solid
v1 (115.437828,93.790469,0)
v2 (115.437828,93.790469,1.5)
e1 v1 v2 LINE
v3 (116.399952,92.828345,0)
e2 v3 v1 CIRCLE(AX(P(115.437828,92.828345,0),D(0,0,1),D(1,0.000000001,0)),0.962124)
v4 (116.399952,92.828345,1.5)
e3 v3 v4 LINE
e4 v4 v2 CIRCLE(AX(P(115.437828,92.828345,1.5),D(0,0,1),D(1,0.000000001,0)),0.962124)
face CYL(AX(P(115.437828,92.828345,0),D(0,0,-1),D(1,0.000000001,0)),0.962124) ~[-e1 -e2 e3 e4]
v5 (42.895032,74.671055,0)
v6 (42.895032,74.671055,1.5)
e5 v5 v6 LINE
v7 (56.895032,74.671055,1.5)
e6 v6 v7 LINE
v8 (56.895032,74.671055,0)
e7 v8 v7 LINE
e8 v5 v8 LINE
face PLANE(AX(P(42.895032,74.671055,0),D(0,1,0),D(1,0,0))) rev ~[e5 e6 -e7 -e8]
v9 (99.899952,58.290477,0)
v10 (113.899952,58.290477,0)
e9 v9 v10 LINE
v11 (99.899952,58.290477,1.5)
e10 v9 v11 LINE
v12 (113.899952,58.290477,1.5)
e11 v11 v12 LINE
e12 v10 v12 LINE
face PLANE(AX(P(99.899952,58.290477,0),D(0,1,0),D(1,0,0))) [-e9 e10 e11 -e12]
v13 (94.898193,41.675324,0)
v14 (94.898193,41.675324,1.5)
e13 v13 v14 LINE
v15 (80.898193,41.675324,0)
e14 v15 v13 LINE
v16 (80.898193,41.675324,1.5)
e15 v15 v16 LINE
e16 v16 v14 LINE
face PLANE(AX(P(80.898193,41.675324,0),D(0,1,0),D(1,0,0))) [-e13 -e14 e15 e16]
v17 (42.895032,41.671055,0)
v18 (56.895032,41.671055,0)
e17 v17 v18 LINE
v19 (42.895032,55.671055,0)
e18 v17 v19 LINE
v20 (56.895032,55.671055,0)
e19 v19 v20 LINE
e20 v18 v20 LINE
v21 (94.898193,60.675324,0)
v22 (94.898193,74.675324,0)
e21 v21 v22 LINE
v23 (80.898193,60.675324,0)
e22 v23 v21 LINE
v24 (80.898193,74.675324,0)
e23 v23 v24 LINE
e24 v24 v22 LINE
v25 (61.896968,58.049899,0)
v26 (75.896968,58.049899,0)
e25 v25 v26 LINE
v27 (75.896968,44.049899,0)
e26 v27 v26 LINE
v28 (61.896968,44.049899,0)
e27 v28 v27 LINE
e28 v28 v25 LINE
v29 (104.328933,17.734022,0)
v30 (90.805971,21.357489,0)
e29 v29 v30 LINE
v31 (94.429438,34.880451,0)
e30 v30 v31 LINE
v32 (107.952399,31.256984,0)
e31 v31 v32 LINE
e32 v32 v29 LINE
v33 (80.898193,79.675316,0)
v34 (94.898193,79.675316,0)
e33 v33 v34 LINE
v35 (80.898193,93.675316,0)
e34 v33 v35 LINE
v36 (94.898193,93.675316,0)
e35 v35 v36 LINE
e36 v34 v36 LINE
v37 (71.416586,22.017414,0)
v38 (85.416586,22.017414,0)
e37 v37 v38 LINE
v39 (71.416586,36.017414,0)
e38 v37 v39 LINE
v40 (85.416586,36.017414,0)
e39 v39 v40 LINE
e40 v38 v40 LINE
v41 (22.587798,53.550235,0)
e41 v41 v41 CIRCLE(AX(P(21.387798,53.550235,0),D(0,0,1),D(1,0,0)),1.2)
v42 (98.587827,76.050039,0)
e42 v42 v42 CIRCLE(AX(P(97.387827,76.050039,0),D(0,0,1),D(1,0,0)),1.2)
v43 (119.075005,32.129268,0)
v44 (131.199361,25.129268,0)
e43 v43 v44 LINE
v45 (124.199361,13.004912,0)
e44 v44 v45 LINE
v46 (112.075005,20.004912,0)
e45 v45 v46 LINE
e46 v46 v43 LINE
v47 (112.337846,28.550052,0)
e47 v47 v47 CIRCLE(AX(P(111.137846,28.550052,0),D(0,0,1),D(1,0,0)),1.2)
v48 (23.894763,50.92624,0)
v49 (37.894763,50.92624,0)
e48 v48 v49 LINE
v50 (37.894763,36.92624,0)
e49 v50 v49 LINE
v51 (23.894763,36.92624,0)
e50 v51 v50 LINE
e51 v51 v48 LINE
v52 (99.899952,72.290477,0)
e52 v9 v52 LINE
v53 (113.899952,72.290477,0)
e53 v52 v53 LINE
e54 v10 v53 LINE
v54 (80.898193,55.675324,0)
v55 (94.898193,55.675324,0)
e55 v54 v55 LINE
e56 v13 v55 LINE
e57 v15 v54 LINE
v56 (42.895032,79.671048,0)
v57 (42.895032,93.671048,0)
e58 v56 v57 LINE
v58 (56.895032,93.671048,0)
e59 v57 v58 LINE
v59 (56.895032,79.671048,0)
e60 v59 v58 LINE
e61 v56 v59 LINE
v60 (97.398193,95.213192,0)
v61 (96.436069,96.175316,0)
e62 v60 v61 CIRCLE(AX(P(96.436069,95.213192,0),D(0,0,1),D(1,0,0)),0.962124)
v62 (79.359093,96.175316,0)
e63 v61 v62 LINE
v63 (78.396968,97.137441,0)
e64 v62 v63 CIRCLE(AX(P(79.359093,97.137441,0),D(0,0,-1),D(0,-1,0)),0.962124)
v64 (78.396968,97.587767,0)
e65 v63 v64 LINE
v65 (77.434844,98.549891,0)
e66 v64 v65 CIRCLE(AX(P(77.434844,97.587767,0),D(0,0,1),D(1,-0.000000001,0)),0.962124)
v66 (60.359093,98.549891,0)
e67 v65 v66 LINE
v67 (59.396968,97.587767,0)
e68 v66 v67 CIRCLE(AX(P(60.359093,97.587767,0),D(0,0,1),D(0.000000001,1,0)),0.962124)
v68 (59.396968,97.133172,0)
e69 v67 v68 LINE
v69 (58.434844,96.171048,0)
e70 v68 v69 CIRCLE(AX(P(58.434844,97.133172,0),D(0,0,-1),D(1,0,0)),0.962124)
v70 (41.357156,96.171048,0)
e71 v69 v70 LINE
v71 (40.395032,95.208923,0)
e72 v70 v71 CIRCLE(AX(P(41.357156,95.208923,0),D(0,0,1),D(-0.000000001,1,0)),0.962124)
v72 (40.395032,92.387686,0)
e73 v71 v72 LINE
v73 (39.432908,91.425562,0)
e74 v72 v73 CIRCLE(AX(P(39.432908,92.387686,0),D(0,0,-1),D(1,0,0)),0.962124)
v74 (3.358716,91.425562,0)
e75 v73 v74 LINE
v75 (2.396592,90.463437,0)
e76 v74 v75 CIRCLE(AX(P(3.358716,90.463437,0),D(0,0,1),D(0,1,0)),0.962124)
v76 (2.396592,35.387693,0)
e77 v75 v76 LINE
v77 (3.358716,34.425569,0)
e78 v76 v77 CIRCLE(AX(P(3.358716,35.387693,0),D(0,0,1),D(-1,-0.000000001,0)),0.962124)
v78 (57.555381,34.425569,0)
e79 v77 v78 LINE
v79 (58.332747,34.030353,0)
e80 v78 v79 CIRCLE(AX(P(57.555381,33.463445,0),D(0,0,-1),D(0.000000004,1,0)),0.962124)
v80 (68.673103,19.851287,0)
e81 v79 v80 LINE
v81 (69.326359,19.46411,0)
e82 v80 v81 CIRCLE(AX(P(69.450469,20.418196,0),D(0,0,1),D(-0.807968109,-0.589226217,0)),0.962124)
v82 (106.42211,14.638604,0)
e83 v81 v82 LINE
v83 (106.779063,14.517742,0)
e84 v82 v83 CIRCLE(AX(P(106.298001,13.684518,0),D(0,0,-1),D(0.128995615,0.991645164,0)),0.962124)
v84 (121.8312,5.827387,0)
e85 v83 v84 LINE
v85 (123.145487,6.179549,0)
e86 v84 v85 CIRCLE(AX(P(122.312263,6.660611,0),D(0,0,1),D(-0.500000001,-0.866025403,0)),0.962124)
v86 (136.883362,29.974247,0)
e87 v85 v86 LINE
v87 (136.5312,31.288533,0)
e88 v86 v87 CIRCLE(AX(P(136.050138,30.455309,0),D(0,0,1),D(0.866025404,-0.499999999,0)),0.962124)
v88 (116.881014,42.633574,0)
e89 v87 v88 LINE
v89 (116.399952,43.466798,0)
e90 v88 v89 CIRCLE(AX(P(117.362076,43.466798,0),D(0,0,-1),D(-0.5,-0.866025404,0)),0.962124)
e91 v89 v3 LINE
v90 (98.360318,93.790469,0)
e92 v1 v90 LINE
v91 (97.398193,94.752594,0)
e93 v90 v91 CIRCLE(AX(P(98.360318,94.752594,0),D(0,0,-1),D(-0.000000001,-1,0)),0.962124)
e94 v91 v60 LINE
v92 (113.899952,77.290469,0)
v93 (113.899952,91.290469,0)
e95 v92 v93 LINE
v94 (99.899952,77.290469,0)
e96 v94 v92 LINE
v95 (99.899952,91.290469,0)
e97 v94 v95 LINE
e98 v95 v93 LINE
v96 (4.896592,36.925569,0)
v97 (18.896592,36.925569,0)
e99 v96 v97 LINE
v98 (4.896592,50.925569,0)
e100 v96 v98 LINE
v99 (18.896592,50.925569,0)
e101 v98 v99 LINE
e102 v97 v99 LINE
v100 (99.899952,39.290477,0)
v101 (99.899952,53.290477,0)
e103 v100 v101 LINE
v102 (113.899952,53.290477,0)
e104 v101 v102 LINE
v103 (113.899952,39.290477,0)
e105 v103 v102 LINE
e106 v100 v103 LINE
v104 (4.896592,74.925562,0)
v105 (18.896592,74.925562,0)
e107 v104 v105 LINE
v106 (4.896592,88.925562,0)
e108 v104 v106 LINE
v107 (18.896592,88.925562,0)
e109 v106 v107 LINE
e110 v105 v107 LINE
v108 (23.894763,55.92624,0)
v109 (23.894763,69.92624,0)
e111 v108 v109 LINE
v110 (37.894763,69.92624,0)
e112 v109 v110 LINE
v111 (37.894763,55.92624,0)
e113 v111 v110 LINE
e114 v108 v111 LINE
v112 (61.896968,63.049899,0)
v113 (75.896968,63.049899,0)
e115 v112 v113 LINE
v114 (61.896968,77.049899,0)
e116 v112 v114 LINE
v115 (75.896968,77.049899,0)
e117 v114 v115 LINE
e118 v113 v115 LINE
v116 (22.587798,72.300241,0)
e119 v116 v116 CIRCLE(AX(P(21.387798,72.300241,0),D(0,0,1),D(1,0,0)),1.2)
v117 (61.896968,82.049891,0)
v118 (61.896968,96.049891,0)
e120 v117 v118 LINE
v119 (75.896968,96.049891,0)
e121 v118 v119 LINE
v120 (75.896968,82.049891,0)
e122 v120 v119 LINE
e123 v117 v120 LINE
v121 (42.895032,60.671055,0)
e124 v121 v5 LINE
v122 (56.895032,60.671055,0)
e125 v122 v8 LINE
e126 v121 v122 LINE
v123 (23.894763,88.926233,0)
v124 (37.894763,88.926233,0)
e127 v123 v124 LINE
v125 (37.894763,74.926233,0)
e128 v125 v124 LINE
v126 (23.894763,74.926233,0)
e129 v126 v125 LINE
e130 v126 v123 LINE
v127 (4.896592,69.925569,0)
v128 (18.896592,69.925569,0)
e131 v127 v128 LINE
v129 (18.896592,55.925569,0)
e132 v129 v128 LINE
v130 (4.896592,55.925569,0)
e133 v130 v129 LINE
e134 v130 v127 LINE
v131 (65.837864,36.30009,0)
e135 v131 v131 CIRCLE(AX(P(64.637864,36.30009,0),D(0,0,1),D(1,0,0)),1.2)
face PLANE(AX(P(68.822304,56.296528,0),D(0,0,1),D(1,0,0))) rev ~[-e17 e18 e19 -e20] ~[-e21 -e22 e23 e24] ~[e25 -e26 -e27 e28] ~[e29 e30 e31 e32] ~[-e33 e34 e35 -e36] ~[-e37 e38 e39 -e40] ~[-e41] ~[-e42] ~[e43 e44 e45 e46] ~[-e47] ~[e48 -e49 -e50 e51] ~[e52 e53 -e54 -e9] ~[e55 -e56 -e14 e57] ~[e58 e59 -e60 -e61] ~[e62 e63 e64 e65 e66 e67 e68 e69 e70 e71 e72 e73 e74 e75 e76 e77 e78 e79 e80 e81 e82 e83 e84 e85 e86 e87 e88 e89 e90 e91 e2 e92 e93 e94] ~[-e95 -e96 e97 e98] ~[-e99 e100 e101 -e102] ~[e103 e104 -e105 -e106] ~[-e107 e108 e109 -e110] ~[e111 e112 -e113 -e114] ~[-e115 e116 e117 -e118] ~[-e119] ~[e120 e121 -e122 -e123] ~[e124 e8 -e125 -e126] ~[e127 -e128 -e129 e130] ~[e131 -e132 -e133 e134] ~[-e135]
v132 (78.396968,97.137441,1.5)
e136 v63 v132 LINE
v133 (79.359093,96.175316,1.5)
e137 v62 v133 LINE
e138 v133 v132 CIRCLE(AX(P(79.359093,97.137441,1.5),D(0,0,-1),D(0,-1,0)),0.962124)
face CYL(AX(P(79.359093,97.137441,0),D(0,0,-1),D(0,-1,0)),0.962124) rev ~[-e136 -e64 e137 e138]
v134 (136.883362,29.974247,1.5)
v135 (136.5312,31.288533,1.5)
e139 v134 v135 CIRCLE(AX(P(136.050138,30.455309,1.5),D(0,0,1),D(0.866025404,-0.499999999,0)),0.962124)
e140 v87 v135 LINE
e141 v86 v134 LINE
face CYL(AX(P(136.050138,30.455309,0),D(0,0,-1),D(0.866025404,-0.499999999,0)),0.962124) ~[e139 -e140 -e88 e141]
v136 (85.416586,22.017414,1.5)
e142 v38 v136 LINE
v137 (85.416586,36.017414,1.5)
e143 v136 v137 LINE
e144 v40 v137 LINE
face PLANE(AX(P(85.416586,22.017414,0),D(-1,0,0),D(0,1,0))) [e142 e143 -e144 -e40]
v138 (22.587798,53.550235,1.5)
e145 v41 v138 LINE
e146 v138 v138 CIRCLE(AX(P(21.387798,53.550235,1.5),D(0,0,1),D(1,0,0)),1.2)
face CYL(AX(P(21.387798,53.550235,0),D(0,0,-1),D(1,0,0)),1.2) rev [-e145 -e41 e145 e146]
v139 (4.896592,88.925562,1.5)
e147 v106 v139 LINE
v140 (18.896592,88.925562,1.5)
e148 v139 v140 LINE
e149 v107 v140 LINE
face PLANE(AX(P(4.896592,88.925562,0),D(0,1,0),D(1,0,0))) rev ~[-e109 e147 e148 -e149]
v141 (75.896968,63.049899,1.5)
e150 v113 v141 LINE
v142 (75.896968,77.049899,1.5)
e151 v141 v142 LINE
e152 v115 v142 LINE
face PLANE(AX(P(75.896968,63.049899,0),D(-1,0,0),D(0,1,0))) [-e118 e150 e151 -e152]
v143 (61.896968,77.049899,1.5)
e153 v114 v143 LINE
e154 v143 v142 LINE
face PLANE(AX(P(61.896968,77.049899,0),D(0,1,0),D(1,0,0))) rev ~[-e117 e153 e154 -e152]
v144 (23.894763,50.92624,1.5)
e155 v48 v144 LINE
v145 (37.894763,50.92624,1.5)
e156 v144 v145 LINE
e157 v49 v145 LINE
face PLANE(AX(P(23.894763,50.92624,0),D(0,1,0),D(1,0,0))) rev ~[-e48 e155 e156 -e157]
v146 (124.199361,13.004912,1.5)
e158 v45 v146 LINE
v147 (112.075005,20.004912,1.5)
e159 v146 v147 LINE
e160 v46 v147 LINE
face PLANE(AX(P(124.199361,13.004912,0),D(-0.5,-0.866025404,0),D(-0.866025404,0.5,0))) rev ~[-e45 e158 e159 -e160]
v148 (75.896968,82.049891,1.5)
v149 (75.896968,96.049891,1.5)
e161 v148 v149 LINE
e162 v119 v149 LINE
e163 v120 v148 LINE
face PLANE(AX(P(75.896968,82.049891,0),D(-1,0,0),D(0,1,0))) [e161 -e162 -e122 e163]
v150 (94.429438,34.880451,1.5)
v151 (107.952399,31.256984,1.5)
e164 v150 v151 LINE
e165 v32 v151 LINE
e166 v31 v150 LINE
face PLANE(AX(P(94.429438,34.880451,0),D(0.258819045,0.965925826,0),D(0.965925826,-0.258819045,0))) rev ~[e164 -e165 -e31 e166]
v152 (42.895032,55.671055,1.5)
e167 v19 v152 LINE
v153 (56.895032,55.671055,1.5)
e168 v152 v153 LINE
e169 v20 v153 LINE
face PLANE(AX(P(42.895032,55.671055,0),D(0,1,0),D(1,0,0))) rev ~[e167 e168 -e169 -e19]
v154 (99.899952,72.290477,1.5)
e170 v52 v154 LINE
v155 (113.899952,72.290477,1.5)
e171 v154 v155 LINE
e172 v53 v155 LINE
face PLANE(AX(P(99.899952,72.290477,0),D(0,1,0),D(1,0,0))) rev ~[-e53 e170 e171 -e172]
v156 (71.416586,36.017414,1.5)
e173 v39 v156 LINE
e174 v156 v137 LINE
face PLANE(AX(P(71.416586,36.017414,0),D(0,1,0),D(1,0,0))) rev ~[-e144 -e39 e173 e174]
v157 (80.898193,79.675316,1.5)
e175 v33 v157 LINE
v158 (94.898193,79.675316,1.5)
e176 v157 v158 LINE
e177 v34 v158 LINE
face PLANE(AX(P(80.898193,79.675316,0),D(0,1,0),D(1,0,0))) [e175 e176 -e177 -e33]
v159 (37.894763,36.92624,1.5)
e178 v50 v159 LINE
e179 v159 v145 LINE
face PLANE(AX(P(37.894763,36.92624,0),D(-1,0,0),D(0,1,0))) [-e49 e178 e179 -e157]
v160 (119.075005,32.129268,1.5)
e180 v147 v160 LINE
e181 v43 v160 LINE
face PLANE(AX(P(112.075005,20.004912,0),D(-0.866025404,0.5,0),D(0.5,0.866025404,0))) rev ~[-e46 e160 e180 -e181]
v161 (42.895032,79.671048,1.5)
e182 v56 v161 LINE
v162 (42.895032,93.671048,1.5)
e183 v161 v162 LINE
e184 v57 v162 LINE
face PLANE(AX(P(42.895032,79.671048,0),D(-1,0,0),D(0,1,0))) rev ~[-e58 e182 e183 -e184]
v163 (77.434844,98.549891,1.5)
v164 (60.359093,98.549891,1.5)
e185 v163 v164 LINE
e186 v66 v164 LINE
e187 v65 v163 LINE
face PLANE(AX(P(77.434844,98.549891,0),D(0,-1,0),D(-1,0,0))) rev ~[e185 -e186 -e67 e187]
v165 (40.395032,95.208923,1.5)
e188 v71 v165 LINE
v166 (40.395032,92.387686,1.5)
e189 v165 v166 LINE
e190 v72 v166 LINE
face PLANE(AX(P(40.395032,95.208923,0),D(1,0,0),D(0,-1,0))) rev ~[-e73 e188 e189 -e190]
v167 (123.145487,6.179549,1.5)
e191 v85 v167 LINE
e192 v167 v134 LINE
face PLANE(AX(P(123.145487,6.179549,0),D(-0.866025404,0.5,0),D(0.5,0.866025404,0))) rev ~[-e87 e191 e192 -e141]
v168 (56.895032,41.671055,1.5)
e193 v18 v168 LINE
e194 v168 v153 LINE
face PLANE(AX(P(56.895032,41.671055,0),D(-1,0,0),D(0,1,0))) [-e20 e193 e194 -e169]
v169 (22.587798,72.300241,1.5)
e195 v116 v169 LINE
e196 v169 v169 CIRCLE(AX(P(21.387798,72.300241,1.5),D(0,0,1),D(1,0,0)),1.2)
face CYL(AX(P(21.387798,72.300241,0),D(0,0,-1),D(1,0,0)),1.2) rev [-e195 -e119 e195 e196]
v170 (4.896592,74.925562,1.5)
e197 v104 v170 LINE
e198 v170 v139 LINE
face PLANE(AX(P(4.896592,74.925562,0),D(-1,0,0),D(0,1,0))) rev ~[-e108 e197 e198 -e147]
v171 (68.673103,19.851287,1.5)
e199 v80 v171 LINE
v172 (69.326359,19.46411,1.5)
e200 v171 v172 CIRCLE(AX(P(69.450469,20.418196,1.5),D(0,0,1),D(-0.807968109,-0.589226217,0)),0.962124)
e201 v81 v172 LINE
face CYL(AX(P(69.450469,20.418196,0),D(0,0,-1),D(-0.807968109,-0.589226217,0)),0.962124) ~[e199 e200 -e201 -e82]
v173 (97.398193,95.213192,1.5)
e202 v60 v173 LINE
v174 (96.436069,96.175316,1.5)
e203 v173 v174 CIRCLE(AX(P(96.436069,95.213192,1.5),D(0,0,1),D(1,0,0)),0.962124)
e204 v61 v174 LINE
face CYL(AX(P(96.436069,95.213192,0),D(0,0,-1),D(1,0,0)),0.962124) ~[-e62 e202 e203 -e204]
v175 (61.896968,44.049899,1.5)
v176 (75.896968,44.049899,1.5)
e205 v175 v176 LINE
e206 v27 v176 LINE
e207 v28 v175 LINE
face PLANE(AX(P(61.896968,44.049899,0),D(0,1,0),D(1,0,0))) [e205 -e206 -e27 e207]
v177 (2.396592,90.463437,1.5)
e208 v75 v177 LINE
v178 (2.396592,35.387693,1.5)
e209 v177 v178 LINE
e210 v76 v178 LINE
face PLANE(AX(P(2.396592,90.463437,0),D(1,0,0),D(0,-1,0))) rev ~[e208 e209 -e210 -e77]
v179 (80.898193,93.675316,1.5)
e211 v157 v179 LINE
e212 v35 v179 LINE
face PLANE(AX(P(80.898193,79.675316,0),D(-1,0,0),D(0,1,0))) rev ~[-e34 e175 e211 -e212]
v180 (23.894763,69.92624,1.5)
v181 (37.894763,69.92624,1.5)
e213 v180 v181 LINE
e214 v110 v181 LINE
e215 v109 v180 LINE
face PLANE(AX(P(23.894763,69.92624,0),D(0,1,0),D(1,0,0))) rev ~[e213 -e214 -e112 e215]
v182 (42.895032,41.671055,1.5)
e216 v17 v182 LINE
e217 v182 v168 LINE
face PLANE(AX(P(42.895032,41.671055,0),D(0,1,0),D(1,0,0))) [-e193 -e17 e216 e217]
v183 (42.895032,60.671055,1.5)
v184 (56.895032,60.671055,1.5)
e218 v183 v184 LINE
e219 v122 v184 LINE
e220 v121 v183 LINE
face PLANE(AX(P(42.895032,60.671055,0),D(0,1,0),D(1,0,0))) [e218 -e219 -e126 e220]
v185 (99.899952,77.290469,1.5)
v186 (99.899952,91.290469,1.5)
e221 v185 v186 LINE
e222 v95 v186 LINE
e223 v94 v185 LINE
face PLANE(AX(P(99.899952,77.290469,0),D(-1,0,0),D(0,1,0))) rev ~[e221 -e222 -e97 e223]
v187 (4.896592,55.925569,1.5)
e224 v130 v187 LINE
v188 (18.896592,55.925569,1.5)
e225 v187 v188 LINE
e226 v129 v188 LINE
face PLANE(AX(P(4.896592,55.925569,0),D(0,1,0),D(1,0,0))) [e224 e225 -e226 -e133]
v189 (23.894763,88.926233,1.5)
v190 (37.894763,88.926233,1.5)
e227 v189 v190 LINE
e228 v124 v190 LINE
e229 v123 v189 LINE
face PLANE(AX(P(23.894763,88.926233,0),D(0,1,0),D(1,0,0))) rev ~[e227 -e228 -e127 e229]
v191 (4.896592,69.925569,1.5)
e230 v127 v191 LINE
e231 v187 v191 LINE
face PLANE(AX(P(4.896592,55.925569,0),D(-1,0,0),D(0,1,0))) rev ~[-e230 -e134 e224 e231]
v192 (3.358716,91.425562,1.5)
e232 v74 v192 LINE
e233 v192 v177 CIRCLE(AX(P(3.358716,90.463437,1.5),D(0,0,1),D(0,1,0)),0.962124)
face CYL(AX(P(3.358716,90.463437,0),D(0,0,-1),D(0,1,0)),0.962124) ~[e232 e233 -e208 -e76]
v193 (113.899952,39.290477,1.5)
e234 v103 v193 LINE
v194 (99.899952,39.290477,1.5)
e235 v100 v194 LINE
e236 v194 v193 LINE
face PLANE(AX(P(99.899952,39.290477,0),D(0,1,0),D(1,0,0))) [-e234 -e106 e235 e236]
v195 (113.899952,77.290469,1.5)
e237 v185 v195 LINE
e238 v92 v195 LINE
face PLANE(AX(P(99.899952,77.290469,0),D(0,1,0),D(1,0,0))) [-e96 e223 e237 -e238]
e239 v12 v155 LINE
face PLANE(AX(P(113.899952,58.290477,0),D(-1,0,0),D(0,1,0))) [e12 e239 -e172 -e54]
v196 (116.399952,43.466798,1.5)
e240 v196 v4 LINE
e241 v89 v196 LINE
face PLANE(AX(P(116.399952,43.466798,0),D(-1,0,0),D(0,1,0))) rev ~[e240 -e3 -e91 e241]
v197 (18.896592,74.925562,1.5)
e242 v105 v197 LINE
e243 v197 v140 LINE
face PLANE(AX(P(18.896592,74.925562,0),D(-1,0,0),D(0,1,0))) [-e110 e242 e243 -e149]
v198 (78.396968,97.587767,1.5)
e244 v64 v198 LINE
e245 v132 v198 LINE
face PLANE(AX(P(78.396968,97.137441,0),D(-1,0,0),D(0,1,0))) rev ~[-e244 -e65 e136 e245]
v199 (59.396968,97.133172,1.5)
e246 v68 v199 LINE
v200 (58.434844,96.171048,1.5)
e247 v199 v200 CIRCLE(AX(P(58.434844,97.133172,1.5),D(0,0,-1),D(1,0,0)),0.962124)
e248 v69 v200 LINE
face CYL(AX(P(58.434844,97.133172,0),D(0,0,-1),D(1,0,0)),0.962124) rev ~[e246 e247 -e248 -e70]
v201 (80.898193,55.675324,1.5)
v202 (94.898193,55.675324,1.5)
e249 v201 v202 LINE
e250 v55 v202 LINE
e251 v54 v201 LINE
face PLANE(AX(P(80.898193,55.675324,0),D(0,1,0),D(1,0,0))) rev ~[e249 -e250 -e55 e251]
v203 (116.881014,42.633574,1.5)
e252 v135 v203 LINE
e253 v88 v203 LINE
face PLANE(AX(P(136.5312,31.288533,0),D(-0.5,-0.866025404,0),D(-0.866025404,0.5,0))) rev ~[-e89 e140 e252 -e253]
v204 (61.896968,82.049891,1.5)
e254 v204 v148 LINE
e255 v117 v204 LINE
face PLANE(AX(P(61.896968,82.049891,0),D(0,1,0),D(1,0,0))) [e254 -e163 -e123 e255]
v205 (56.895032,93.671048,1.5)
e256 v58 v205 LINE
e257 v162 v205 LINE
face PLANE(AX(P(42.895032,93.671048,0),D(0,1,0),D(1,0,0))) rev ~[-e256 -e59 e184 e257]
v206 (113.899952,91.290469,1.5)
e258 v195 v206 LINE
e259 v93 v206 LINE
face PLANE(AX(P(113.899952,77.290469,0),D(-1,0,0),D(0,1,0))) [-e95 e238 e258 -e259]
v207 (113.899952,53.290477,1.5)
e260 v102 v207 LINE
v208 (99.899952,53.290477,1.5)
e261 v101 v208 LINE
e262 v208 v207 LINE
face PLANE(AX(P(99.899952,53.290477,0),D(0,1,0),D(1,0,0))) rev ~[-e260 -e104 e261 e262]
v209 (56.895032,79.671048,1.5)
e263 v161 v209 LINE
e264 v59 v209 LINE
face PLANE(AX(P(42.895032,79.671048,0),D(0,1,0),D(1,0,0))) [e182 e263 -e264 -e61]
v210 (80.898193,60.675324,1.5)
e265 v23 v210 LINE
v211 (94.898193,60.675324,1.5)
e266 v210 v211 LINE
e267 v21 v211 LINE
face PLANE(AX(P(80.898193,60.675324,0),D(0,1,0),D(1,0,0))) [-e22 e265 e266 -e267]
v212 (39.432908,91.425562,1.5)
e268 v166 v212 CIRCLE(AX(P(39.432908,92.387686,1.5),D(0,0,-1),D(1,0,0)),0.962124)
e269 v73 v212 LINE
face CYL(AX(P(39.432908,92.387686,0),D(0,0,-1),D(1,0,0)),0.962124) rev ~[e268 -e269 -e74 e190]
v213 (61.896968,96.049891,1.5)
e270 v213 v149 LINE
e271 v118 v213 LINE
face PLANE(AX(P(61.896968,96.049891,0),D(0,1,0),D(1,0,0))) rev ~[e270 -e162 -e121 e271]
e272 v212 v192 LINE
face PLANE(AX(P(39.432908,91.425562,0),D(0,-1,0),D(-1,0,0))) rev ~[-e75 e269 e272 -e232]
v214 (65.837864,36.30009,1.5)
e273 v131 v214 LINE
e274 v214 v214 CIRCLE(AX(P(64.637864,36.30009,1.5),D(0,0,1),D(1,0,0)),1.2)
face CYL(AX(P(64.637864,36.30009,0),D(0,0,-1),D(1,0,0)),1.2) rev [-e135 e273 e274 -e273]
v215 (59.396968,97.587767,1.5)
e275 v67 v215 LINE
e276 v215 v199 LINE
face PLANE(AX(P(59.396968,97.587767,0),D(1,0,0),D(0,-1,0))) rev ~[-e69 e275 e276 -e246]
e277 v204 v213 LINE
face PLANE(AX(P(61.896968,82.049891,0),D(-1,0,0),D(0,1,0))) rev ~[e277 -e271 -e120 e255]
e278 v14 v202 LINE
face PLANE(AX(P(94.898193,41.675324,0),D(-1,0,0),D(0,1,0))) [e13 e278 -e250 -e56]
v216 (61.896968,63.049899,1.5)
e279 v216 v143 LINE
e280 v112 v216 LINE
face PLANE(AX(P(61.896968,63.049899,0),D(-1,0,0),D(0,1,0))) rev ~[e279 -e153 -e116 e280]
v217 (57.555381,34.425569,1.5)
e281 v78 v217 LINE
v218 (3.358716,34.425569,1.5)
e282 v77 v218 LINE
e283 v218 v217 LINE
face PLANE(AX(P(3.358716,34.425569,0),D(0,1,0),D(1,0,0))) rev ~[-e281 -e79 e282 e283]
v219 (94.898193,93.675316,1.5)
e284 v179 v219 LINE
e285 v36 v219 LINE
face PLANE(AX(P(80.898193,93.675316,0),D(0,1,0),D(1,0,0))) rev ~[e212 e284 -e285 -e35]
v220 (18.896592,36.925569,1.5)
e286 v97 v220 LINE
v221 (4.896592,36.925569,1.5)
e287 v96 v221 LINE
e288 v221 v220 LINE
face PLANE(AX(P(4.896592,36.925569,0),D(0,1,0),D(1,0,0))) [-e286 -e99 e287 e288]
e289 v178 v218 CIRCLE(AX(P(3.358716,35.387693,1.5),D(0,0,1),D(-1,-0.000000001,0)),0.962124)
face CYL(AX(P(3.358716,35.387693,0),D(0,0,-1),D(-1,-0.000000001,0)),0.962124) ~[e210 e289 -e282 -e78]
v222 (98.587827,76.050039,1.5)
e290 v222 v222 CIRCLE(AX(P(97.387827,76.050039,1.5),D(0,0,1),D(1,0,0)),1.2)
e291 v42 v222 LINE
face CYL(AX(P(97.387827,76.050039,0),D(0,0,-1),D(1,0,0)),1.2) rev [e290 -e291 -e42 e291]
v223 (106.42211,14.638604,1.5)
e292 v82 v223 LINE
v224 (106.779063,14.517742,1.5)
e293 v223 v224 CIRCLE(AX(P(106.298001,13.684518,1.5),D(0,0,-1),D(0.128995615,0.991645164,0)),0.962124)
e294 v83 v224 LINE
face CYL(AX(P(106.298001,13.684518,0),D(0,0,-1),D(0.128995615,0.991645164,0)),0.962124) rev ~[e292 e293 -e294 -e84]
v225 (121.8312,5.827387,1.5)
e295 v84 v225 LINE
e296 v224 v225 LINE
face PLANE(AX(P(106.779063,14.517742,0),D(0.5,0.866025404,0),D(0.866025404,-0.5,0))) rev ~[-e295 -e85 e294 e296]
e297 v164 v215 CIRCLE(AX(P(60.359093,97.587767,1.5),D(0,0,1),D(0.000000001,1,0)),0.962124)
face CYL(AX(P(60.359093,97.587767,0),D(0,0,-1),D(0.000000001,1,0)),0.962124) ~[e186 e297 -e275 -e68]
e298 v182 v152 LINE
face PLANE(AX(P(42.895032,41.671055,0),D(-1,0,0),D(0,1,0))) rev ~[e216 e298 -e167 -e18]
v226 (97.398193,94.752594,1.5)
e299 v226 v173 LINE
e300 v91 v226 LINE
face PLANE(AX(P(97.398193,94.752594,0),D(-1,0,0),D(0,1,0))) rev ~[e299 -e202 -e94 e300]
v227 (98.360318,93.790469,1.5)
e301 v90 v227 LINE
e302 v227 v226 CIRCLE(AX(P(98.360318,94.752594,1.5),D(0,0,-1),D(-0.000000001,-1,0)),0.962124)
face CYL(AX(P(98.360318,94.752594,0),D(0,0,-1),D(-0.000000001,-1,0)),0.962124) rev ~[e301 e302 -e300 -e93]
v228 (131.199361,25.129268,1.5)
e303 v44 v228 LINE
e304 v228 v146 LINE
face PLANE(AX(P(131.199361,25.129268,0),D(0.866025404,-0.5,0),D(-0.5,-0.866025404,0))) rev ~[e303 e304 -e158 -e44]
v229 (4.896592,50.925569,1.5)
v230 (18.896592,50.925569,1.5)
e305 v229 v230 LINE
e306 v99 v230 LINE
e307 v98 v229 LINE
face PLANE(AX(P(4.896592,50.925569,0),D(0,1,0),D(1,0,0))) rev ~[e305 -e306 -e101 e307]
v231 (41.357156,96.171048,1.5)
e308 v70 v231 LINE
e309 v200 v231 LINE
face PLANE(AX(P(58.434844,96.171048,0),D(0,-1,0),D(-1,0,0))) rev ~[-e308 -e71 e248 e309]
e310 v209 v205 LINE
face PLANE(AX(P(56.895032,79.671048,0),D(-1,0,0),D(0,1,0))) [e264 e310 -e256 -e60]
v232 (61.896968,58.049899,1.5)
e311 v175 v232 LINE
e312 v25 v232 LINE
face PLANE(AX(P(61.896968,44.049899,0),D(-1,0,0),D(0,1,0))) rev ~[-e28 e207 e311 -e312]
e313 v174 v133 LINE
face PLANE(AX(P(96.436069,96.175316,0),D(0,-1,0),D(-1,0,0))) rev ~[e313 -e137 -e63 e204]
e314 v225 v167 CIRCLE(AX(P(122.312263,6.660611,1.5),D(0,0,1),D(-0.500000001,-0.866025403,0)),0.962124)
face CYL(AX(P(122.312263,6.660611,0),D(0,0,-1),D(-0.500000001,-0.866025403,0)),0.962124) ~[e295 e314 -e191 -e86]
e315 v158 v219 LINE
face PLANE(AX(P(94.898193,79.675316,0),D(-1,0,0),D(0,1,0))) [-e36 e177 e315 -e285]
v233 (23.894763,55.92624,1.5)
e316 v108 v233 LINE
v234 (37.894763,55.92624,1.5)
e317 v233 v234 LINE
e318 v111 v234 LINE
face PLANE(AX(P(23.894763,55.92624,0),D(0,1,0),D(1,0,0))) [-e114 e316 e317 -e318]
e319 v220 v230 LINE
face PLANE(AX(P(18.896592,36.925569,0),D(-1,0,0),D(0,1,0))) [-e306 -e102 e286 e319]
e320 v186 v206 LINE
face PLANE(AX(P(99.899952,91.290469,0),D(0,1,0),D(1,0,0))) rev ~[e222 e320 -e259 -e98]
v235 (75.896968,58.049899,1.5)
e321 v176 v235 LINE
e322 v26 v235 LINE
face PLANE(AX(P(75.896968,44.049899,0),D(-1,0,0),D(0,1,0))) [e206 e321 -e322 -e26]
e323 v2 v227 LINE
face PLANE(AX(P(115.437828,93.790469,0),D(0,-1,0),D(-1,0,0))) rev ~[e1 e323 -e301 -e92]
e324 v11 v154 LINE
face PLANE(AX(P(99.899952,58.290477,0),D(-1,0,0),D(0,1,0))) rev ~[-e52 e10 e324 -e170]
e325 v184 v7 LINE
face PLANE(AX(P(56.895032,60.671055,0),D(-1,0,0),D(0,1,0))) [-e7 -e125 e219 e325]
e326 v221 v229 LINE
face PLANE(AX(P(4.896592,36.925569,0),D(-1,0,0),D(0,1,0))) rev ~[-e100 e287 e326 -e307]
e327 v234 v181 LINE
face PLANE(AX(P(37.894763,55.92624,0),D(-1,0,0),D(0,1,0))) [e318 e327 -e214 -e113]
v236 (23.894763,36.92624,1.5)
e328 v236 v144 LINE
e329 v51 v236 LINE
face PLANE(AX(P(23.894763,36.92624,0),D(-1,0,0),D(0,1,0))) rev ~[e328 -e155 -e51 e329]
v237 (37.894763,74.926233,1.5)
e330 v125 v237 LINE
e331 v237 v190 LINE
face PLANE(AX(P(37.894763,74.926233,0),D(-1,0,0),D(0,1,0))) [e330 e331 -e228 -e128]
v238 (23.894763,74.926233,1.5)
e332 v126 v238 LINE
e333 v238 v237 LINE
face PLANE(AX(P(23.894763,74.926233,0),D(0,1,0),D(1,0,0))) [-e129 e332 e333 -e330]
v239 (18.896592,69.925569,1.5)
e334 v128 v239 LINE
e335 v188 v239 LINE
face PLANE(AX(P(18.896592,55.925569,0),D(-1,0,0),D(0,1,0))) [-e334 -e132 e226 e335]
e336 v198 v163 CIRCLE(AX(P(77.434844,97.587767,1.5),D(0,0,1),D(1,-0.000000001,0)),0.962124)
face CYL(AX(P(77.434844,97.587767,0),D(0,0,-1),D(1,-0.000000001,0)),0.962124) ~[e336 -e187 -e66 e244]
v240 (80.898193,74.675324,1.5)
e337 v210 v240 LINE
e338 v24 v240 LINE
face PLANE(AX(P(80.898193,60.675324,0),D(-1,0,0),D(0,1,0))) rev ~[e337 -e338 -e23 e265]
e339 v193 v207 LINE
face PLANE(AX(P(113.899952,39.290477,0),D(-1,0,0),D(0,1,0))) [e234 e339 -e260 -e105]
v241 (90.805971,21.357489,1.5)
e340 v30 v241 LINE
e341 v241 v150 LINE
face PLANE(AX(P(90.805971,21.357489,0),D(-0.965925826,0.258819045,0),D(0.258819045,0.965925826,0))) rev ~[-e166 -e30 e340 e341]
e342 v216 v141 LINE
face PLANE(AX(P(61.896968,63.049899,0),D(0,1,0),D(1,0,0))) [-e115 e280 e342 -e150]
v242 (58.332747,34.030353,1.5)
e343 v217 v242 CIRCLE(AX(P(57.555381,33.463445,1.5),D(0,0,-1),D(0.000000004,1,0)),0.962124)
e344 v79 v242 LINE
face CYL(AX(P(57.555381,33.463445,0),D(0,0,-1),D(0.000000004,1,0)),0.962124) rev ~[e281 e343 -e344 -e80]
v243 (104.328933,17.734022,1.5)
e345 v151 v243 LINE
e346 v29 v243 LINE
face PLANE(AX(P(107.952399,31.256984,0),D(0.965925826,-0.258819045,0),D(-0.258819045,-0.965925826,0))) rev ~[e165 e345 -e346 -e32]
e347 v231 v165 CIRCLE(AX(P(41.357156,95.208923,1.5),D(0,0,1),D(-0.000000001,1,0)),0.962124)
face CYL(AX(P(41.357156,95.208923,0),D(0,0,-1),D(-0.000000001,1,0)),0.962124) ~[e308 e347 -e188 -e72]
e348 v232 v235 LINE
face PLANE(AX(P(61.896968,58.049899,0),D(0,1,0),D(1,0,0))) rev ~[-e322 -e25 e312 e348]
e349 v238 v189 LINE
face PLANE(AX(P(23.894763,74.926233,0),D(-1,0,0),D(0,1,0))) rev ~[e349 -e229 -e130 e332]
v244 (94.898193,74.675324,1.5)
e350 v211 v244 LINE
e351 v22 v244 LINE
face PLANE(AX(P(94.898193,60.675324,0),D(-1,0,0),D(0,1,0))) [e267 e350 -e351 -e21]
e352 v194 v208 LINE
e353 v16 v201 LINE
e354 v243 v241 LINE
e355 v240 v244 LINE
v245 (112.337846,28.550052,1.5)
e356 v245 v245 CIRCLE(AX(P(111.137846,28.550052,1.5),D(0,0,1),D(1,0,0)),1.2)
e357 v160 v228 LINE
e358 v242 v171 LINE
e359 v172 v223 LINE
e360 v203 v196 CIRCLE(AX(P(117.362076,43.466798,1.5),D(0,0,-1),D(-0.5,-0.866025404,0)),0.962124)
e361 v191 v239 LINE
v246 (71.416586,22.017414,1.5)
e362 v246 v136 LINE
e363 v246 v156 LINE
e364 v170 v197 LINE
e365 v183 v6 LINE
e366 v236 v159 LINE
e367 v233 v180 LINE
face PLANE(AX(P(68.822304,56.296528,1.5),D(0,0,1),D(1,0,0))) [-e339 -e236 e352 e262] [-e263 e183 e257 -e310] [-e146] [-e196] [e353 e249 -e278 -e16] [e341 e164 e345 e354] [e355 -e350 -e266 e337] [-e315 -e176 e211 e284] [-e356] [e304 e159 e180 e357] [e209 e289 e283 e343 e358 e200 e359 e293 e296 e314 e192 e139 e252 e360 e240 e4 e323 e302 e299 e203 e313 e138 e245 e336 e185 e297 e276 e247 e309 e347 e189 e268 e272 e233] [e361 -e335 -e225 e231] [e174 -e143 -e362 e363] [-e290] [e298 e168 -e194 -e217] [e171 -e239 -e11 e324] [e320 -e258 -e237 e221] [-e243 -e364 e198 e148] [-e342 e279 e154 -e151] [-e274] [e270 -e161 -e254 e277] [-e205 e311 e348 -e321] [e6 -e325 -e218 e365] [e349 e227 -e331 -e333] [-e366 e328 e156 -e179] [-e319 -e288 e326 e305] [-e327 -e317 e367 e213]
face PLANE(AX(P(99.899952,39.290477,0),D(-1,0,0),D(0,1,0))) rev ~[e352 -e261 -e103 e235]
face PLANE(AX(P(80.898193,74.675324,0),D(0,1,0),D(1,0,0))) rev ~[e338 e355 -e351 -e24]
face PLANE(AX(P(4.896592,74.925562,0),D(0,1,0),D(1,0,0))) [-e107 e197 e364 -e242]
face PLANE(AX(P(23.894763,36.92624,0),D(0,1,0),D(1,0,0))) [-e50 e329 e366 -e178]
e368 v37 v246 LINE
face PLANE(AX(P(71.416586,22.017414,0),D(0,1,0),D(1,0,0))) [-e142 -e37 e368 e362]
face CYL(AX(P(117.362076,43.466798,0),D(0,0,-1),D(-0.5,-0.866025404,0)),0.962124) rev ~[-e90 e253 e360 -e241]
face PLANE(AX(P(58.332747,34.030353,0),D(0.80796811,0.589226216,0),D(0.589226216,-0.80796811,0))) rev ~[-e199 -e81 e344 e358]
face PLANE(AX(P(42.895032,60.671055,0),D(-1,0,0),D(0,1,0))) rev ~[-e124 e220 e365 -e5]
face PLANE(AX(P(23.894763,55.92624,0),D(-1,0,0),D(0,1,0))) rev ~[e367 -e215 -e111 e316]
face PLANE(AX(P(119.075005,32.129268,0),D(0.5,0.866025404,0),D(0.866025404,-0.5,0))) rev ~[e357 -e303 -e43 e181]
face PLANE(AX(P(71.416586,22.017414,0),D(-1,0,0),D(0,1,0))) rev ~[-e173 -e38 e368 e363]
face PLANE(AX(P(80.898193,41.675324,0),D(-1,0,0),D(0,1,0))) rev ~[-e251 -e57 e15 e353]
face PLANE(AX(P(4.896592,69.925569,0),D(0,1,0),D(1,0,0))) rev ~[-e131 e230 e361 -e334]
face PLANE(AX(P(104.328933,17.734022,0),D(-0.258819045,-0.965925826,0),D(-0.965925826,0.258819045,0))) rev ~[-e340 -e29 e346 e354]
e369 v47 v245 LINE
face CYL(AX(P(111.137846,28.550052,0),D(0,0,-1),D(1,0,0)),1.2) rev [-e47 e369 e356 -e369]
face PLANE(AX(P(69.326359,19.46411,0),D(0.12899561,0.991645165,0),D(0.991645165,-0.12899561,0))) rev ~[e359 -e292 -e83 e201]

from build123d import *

# Parameters (mm, degrees)
SKETCH2_W           = 13.999999997
SKETCH2_H           = 13.999999996
SKETCH2_W_2         = 13.999999996
SKETCH2_R           = 1.2
SKETCH2_H_2         = 13.999999997
BOSS_EXTRUDE1_DEPTH = 1.5


with BuildPart() as part:
    # Sketch2 → Boss-Extrude1 (new body)
    with BuildSketch(Plane.XY):
        with BuildLine():
            ThreePointArc((3.358715952, 91.42556159), (2.678391323, 91.143761902), (2.396591635, 90.463437274))
            Line((2.396591635, 90.463437274), (2.396591635, 35.387693174))
            ThreePointArc((2.396591635, 35.387693174), (2.678391323, 34.707368546), (3.358715952, 34.425568858))
            Line((3.358715952, 34.425568858), (57.55538108, 34.425568858))
            ThreePointArc((57.55538108, 34.425568858), (57.991412266, 34.32109249), (58.332746845, 34.030353412))
            Line((58.332746845, 34.030353412), (68.6731028, 19.851286658))
            ThreePointArc((68.6731028, 19.851286658), (68.959916761, 19.590522811), (69.326358752, 19.464109602))
            Line((69.326358752, 19.464109602), (106.42211034, 14.638604201))
            ThreePointArc((106.42211034, 14.638604201), (106.606561986, 14.595821202), (106.779062685, 14.517742374))
            Line((106.779062685, 14.517742374), (121.831200494, 5.827386558))
            ThreePointArc((121.831200494, 5.827386558), (122.561278749, 5.731269932), (123.145486752, 6.1795485))
            Line((123.145486752, 6.1795485), (136.883362434, 29.974247168))
            ThreePointArc((136.883362434, 29.974247168), (136.979479059, 30.704325424), (136.531200492, 31.288533426))
            Line((136.531200492, 31.288533426), (116.881014221, 42.63357376))
            ThreePointArc((116.881014221, 42.63357376), (116.52885228, 42.985735701), (116.399952063, 43.466797859))
            Line((116.399952063, 43.466797859), (116.399952063, 92.828345033))
            ThreePointArc((116.399952063, 92.828345033), (116.118152375, 93.508669661), (115.437827746, 93.790469349))
            Line((115.437827746, 93.790469349), (98.360317754, 93.790469349))
            ThreePointArc((98.360317754, 93.790469349), (97.679993126, 94.072269037), (97.398193438, 94.752593666))
            Line((97.398193438, 94.752593666), (97.398193438, 95.213192117))
            ThreePointArc((97.398193438, 95.213192117), (97.11639375, 95.893516746), (96.436069121, 96.175316434))
            Line((96.436069121, 96.175316434), (79.359092742, 96.175316434))
            ThreePointArc((79.359092742, 96.175316434), (78.678768113, 96.457116122), (78.396968425, 97.137440751))
            Line((78.396968425, 97.137440751), (78.396968425, 97.587767164))
            ThreePointArc((78.396968425, 97.587767164), (78.115168737, 98.268091793), (77.434844109, 98.54989148))
            Line((77.434844109, 98.54989148), (60.359092745, 98.54989148))
            ThreePointArc((60.359092745, 98.54989148), (59.678768117, 98.268091793), (59.396968429, 97.587767164))
            Line((59.396968429, 97.587767164), (59.396968429, 97.133171852))
            ThreePointArc((59.396968429, 97.133171852), (59.115168741, 96.452847223), (58.434844112, 96.171047535))
            Line((58.434844112, 96.171047535), (41.357156249, 96.171047535))
            ThreePointArc((41.357156249, 96.171047535), (40.676831621, 95.889247847), (40.395031933, 95.208923218))
            Line((40.395031933, 95.208923218), (40.395031933, 92.387685907))
            ThreePointArc((40.395031933, 92.387685907), (40.113232245, 91.707361278), (39.432907616, 91.42556159))
            Line((39.432907616, 91.42556159), (3.358715952, 91.42556159))
        make_face()
        with Locations((11.896591633, 43.925568856)):
            Rectangle(SKETCH2_W, SKETCH2_H, mode=Mode.SUBTRACT)
        with Locations((30.894762974, 43.926240308)):
            Rectangle(SKETCH2_W_2, SKETCH2_H, mode=Mode.SUBTRACT)
        with Locations((64.637863533, 36.300090173)):
            Circle(SKETCH2_R, mode=Mode.SUBTRACT)
        with Locations((49.895031931, 48.671054801)):
            Rectangle(SKETCH2_W_2, SKETCH2_H_2, mode=Mode.SUBTRACT)
        with Locations((68.896968427, 51.049898746)):
            Rectangle(SKETCH2_W_2, SKETCH2_H, mode=Mode.SUBTRACT)
        Polygon((94.429437772, 34.880450616), (107.952399337, 31.256983985), (104.328932707, 17.734022421), (90.805971142, 21.357489051), align=None, mode=Mode.SUBTRACT)
        with Locations((111.137845658, 28.550051811)):
            Circle(SKETCH2_R, mode=Mode.SUBTRACT)
        Polygon((124.199361084, 13.004912388), (112.075005434, 20.004912386), (119.075005433, 32.129268036), (131.199361083, 25.129268038), align=None, mode=Mode.SUBTRACT)
        with Locations((78.416585941, 29.017413842)):
            Rectangle(SKETCH2_W_2, SKETCH2_H, mode=Mode.SUBTRACT)
        with Locations((87.89819344, 48.6753237)):
            Rectangle(SKETCH2_W, SKETCH2_H_2, mode=Mode.SUBTRACT)
        with Locations((106.899952065, 46.290476615)):
            Rectangle(SKETCH2_W, SKETCH2_H_2, mode=Mode.SUBTRACT)
        with Locations((11.896591633, 62.925568851)):
            Rectangle(SKETCH2_W, SKETCH2_H, mode=Mode.SUBTRACT)
        with Locations((21.387798276, 53.550235091)):
            Circle(SKETCH2_R, mode=Mode.SUBTRACT)
        with Locations((30.894762974, 62.926240303)):
            Rectangle(SKETCH2_W_2, SKETCH2_H, mode=Mode.SUBTRACT)
        with Locations((21.387798276, 72.300241098)):
            Circle(SKETCH2_R, mode=Mode.SUBTRACT)
        with Locations((49.895031931, 67.671054795)):
            Rectangle(SKETCH2_W_2, SKETCH2_H_2, mode=Mode.SUBTRACT)
        with Locations((68.896968427, 70.049898741)):
            Rectangle(SKETCH2_W_2, SKETCH2_H, mode=Mode.SUBTRACT)
        with Locations((11.896591633, 81.925561592)):
            Rectangle(SKETCH2_W, SKETCH2_H, mode=Mode.SUBTRACT)
        with Locations((30.894762974, 81.926233044)):
            Rectangle(SKETCH2_W_2, SKETCH2_H, mode=Mode.SUBTRACT)
        with Locations((49.895031931, 86.671047537)):
            Rectangle(SKETCH2_W_2, SKETCH2_H, mode=Mode.SUBTRACT)
        with Locations((68.896968427, 89.049891482)):
            Rectangle(SKETCH2_W_2, SKETCH2_H, mode=Mode.SUBTRACT)
        with Locations((87.89819344, 67.675323695)):
            Rectangle(SKETCH2_W, SKETCH2_H_2, mode=Mode.SUBTRACT)
        with Locations((106.899952065, 65.29047661)):
            Rectangle(SKETCH2_W, SKETCH2_H, mode=Mode.SUBTRACT)
        with Locations((97.387827206, 76.050038887)):
            Circle(SKETCH2_R, mode=Mode.SUBTRACT)
        with Locations((87.89819344, 86.675316436)):
            Rectangle(SKETCH2_W, SKETCH2_H_2, mode=Mode.SUBTRACT)
        with Locations((106.899952065, 84.290469351)):
            Rectangle(SKETCH2_W, SKETCH2_H, mode=Mode.SUBTRACT)
    extrude(amount=BOSS_EXTRUDE1_DEPTH)


solid = part.part
